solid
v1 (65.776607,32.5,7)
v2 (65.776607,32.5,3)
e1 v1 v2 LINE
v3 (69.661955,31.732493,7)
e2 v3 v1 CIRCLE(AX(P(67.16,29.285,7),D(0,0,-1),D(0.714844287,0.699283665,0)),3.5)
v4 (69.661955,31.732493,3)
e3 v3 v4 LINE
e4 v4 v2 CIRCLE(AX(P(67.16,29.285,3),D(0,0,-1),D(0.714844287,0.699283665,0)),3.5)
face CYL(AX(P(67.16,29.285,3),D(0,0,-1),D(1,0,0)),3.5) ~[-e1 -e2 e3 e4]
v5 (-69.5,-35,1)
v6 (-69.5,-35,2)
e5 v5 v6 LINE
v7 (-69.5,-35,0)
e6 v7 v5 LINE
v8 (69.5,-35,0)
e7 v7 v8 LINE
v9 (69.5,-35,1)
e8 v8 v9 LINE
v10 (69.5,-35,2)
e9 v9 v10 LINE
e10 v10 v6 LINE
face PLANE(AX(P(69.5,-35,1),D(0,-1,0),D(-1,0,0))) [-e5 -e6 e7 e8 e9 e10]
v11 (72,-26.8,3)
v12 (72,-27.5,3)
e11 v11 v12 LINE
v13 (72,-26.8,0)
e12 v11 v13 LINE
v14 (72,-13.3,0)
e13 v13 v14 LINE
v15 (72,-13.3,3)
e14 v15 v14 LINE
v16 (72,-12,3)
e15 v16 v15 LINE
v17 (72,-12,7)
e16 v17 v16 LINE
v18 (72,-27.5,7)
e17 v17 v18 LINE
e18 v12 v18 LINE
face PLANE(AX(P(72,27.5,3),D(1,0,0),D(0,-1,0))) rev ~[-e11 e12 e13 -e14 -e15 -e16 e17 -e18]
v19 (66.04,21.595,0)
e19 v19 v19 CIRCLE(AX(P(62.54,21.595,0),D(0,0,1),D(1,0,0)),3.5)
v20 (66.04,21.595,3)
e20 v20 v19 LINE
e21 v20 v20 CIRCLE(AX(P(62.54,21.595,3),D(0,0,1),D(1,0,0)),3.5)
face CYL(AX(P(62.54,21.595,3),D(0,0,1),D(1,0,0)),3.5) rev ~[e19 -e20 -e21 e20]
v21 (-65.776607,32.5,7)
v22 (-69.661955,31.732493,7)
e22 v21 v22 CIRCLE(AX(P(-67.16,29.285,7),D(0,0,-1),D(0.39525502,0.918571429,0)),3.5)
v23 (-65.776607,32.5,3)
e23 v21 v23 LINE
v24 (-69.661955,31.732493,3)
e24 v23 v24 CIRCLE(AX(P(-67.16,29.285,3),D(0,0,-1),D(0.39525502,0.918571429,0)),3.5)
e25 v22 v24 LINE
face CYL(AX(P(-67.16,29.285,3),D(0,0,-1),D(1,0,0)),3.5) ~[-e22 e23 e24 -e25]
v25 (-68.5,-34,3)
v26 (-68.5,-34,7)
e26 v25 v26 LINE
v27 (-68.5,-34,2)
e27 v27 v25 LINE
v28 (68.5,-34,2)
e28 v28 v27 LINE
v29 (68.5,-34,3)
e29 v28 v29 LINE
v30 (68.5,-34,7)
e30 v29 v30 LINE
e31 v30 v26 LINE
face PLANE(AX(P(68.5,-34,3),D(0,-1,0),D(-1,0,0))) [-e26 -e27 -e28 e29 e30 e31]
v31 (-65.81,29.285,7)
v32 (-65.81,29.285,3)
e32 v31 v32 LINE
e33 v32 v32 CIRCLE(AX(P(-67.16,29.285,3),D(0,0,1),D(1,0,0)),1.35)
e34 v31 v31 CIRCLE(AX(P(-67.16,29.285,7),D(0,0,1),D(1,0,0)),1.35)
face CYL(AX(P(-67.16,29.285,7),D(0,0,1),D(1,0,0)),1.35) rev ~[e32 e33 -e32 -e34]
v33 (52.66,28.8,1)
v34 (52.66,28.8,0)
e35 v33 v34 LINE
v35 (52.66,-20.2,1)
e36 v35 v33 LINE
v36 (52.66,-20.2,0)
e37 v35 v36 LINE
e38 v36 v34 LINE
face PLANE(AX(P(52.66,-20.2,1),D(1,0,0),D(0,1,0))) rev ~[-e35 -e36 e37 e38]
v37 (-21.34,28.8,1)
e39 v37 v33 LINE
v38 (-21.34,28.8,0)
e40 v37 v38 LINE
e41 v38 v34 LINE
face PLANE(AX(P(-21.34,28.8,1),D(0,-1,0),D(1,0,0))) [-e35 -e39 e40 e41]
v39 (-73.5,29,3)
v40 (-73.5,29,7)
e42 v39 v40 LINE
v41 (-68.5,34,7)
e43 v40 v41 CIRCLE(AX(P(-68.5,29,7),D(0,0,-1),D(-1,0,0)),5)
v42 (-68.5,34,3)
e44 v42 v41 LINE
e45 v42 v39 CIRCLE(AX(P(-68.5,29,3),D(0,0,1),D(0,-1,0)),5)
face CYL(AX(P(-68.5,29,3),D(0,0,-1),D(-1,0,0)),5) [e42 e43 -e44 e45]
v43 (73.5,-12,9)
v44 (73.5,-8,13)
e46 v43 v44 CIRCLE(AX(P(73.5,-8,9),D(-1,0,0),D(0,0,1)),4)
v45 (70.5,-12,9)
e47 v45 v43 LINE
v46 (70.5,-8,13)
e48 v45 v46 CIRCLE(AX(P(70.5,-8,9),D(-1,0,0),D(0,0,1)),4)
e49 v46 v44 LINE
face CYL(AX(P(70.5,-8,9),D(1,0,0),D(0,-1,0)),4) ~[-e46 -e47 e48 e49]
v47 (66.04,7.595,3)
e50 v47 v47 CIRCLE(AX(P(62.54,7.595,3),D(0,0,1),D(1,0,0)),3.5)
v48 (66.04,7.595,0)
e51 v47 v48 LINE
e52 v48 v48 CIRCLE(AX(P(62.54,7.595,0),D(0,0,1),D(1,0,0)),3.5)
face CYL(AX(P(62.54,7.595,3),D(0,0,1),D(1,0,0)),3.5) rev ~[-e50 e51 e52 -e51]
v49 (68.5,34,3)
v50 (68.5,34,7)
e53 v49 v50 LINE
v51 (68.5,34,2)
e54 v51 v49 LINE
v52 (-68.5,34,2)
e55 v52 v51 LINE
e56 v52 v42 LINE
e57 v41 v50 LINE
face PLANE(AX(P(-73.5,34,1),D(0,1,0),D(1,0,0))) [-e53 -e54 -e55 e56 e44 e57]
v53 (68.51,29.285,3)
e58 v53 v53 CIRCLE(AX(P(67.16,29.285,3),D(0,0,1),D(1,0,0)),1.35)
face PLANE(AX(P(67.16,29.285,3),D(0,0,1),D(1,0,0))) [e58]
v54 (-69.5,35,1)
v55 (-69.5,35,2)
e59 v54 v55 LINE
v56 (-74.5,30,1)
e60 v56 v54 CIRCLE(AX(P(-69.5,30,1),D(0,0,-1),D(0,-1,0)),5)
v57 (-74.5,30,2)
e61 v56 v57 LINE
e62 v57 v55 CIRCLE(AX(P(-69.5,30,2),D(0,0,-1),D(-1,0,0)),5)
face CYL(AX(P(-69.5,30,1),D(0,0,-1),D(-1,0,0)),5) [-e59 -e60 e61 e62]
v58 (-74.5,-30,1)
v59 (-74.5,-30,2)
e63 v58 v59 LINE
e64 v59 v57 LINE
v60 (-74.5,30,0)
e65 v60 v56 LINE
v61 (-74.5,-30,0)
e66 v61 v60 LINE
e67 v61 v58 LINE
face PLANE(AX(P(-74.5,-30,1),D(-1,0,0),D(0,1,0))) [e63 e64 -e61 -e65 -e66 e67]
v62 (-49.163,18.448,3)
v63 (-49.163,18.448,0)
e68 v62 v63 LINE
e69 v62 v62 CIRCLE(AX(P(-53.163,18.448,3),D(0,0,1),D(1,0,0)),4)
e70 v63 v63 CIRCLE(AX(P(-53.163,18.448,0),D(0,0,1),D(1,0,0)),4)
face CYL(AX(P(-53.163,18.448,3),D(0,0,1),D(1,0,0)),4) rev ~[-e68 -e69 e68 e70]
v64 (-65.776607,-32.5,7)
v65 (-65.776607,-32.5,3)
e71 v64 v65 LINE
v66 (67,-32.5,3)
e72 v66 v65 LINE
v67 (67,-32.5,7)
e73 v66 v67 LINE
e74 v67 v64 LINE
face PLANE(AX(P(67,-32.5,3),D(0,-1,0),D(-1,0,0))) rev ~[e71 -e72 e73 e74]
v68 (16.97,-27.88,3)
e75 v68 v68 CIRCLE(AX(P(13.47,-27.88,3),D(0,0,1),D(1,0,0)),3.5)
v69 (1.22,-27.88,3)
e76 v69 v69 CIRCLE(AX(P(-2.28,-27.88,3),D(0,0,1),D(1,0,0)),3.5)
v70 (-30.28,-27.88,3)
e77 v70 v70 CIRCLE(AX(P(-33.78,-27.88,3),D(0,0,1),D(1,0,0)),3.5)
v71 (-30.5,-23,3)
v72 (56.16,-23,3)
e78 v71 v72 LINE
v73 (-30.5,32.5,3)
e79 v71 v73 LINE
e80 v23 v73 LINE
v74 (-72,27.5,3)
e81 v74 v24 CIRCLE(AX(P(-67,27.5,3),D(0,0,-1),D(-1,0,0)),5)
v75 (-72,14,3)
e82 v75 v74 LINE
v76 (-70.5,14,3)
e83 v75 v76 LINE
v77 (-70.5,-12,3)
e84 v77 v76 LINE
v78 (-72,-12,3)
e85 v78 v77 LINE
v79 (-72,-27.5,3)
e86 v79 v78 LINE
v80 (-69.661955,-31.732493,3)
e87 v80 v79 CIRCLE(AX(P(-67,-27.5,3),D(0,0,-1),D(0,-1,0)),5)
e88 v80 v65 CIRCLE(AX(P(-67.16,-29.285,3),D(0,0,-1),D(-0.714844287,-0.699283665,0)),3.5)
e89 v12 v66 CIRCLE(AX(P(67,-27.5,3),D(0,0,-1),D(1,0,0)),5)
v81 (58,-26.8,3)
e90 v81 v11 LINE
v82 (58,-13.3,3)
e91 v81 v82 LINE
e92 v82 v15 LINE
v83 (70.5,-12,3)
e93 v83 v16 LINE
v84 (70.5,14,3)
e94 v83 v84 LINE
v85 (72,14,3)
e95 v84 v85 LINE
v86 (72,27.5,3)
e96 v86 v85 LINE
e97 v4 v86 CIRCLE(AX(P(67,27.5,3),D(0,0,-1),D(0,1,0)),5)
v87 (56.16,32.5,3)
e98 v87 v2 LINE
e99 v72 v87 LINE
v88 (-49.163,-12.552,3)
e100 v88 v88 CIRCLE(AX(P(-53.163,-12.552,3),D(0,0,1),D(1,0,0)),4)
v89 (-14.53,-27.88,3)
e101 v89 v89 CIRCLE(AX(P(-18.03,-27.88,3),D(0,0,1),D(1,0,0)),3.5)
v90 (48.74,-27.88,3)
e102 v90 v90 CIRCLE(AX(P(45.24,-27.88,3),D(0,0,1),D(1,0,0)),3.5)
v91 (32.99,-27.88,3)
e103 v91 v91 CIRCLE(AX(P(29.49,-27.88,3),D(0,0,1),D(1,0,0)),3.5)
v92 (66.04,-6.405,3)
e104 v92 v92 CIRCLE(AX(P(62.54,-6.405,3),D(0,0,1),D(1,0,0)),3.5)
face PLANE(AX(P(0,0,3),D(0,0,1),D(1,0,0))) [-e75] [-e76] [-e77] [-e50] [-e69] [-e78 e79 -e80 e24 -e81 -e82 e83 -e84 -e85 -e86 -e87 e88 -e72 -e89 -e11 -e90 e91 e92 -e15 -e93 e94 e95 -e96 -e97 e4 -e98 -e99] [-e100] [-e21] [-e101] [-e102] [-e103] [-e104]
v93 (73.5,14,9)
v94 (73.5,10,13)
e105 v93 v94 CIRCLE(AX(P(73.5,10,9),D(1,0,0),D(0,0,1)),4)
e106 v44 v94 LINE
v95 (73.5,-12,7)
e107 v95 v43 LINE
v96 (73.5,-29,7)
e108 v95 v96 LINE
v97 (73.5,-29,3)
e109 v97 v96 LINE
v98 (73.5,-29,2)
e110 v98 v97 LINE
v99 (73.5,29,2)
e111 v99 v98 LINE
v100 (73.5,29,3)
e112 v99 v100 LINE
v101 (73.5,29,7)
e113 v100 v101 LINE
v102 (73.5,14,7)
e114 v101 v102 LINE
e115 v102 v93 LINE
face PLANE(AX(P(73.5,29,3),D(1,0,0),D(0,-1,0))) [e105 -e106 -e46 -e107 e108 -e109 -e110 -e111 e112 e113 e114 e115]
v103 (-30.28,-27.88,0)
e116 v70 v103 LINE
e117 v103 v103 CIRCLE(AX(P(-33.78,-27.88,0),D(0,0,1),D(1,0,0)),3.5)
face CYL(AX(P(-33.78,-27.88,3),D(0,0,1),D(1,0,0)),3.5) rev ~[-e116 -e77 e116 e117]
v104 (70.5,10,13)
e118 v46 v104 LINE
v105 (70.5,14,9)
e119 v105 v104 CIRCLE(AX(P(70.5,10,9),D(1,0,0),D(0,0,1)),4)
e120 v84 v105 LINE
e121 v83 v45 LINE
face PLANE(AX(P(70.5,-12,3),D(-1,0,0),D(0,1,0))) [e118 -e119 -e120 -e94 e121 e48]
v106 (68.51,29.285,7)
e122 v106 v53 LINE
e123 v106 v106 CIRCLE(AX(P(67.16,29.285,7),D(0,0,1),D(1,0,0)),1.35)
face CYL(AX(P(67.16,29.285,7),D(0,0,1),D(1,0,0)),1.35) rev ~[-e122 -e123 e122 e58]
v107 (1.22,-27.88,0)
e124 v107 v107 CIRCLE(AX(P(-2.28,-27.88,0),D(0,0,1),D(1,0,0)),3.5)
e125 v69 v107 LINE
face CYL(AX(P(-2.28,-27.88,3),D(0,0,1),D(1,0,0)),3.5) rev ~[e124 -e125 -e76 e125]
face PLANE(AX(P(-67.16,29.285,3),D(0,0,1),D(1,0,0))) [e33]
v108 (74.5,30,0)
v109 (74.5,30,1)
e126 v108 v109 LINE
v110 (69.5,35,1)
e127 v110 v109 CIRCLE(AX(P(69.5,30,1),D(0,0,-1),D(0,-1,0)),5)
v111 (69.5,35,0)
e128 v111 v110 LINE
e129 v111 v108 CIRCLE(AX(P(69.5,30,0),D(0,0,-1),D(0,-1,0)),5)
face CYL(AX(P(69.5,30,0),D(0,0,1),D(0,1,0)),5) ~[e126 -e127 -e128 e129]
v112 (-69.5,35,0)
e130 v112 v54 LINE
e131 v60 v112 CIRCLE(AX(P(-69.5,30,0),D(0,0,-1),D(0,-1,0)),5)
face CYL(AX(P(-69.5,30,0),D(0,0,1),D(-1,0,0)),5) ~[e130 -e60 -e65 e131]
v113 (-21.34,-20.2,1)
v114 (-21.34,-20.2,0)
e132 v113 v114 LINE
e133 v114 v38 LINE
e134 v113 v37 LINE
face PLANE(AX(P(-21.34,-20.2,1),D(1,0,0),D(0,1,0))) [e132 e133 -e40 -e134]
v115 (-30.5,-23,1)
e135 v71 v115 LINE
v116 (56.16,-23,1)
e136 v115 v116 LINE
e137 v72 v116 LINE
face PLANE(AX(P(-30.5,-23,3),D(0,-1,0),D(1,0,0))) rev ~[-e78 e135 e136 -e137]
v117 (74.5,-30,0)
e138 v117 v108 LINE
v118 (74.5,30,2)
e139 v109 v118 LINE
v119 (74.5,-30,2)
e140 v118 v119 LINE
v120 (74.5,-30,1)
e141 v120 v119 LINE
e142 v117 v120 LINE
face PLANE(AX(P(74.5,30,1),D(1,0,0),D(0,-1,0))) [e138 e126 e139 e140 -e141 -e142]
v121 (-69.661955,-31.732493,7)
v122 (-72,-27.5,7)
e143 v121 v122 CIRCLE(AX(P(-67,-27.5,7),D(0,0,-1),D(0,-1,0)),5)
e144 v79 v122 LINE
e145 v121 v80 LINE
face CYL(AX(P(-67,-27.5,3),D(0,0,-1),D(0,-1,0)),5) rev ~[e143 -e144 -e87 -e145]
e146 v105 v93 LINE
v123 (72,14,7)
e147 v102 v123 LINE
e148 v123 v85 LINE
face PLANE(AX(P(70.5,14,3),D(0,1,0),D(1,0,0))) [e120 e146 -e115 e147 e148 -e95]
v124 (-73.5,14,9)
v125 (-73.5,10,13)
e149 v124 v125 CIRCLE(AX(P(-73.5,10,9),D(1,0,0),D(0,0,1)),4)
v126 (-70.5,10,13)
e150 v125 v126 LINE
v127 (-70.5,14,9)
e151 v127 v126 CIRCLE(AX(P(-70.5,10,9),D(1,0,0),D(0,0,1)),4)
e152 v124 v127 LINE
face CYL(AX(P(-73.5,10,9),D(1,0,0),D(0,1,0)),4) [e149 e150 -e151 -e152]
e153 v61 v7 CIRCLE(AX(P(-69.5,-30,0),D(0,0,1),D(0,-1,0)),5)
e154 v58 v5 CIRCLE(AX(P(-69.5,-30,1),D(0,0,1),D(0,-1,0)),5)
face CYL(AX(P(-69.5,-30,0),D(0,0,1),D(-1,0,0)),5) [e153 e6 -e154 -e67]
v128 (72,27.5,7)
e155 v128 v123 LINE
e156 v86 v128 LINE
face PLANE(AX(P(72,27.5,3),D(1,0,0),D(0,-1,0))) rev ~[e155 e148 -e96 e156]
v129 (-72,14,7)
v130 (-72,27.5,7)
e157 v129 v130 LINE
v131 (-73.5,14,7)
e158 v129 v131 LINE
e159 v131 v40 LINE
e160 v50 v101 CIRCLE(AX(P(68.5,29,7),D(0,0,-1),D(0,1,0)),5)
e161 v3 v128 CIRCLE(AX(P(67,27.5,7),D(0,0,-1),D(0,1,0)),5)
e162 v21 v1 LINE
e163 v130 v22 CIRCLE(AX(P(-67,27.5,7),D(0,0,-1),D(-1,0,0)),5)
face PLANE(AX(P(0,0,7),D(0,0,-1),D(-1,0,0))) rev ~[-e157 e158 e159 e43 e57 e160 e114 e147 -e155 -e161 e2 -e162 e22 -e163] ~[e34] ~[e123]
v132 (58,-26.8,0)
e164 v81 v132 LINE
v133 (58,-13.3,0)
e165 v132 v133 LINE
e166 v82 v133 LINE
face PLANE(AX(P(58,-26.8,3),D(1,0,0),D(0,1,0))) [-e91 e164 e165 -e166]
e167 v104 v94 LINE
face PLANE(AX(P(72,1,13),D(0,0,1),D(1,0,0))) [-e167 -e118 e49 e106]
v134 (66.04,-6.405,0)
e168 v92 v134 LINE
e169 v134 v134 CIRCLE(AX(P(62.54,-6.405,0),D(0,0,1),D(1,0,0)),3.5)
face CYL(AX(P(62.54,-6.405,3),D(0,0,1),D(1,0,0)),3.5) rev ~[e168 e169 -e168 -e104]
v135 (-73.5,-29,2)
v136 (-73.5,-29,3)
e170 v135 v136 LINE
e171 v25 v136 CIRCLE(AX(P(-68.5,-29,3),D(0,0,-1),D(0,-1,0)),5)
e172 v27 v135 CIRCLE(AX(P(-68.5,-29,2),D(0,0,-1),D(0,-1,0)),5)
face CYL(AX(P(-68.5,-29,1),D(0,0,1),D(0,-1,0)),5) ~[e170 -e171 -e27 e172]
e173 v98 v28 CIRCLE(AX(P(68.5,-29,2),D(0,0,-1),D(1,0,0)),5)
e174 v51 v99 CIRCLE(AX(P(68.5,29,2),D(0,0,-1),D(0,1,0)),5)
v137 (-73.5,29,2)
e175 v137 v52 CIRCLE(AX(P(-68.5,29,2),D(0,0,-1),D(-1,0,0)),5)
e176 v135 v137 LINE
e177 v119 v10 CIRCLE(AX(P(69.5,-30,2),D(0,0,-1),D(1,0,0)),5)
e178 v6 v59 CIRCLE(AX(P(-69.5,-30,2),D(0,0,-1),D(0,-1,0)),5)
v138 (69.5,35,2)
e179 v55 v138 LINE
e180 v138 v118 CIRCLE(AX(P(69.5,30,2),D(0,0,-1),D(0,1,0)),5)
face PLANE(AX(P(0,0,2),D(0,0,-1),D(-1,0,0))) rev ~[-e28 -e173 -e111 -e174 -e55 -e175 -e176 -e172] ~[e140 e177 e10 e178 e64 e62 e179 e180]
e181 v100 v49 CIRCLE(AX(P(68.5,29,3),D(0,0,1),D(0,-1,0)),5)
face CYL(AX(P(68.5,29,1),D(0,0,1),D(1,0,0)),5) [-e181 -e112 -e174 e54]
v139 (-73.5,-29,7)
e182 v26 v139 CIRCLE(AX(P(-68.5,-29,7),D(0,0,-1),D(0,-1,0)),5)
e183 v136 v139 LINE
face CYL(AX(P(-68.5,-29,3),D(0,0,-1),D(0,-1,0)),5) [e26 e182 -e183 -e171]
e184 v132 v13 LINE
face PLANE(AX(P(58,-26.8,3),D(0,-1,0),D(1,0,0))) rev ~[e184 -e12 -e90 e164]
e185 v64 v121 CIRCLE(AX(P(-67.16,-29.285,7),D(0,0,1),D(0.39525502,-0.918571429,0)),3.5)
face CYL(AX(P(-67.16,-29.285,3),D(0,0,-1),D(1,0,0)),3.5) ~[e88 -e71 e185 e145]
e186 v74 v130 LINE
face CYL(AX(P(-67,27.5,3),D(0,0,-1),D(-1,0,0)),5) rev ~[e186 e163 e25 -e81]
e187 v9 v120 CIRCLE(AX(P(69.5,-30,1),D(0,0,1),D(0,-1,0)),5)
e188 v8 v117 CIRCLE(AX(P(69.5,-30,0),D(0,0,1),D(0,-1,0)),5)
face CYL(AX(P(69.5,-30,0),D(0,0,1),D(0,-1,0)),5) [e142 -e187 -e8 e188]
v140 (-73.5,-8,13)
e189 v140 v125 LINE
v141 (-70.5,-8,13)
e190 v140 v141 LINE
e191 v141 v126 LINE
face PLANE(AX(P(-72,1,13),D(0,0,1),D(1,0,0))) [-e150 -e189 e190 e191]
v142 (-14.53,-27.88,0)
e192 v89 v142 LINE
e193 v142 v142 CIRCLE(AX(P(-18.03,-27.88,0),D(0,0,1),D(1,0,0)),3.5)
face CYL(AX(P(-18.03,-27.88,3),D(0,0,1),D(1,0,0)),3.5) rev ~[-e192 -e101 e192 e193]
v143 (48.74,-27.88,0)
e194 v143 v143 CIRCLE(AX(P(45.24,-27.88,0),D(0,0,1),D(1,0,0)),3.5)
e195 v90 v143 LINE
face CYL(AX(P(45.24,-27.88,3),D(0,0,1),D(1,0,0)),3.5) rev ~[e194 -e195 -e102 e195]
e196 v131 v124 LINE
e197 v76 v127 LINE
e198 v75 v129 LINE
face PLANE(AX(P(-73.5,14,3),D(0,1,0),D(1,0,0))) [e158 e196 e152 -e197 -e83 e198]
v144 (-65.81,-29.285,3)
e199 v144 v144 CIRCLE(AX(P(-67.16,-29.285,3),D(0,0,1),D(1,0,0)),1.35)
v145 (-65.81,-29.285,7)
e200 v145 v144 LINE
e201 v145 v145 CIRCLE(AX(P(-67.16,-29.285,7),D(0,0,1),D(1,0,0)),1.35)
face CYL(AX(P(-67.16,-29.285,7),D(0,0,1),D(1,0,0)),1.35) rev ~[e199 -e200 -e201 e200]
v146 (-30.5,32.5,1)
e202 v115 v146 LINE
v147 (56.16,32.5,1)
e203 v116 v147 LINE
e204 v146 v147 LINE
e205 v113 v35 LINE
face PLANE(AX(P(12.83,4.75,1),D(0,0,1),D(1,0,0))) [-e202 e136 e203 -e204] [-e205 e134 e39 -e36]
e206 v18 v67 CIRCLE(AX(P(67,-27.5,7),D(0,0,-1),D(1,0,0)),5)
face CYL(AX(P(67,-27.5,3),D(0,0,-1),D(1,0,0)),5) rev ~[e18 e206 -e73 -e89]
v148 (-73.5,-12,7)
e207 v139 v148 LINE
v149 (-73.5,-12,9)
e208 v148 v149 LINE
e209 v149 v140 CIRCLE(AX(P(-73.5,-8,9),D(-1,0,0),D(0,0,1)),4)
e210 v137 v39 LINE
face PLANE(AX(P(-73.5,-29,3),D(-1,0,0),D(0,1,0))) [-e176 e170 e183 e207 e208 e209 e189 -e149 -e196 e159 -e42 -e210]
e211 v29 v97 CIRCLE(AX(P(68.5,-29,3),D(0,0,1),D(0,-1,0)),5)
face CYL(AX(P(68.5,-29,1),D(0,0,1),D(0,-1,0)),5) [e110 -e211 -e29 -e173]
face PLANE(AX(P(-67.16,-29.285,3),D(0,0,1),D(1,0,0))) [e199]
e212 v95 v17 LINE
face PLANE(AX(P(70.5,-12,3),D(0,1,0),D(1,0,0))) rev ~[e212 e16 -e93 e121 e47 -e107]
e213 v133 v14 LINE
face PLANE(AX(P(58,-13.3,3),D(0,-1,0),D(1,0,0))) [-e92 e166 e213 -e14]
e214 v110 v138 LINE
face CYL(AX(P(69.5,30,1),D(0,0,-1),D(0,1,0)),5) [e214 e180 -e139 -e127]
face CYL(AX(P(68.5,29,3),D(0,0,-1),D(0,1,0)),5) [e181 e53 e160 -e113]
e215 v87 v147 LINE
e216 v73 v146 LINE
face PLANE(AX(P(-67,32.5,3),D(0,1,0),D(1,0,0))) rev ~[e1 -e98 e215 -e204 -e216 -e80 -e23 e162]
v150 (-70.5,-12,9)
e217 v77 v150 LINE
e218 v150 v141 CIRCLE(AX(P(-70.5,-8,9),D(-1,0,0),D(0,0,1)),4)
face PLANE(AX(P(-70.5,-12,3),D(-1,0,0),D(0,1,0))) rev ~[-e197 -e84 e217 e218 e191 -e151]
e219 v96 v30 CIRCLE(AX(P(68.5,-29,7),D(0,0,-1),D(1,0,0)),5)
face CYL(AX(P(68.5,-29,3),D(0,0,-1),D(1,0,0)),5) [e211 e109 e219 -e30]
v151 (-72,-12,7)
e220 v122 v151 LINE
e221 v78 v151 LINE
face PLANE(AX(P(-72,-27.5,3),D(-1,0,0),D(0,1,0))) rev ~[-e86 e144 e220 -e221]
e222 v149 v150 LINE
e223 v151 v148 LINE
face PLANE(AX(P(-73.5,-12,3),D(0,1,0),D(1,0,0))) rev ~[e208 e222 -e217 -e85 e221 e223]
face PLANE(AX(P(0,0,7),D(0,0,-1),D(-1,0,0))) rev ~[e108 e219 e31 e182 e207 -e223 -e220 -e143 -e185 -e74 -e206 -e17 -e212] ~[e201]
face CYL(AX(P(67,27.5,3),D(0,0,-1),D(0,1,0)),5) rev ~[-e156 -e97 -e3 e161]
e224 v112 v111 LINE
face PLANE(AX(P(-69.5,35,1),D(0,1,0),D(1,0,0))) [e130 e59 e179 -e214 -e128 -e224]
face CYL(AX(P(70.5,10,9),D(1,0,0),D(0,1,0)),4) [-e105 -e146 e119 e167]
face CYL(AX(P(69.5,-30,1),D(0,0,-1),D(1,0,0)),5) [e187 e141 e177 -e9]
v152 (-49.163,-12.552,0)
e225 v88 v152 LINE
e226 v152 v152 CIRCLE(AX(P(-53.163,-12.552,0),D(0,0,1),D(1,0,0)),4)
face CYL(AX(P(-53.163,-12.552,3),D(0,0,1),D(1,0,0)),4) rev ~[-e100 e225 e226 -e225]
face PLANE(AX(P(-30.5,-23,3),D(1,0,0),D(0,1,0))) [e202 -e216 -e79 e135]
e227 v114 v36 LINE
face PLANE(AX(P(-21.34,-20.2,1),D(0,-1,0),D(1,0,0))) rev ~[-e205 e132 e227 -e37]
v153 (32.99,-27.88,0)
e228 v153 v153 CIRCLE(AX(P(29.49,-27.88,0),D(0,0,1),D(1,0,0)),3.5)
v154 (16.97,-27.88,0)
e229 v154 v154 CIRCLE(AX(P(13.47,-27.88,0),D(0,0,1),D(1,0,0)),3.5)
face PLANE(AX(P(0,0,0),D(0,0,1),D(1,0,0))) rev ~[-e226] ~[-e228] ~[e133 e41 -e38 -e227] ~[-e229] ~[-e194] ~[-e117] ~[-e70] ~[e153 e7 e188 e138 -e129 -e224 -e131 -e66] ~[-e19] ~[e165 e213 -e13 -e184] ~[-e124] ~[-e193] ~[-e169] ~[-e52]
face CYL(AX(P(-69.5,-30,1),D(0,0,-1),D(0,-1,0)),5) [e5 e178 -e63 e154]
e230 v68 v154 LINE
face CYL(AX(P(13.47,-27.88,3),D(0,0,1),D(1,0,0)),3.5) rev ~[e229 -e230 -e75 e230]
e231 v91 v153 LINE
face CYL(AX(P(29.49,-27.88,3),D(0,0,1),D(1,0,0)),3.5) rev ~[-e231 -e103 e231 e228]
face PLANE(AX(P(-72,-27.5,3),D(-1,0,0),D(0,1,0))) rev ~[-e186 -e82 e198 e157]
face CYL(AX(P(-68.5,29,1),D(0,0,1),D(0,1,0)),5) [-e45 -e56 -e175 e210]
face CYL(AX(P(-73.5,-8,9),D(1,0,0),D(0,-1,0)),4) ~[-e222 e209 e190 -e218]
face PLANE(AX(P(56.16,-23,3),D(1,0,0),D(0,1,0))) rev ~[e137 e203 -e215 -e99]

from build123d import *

# Parameters (mm, degrees)
SKETCH_1_W           = 149
SKETCH_1_H           = 70
EXTRUDE_1_DEPTH      = 1
SKETCH_2_W           = 147
SKETCH_2_H           = 68
EXTRUDE_2_DEPTH      = 2
FILLET_1_R           = 5
SKETCH_3_W           = 3
SKETCH_3_H           = 26
EXTRUDE_3_DEPTH      = 10
FILLET_2_R           = 4
SKETCH_6_R           = 3.5
EXTRUDE_4_DEPTH      = 4
SKETCH_7_W           = 86.66
SKETCH_7_H           = 55.5
CUT_EXTRUDE_3_DEPTH  = 2
SKETCH_8_W           = 74
SKETCH_8_H           = 49
CUT_EXTRUDE_4_DEPTH  = 2
SKETCH_11_R          = 4
CUT_EXTRUDE_7_DEPTH  = 4
SKETCH_12_R          = 1.35
CUT_EXTRUDE_8_DEPTH  = 4
SKETCH_13_R          = 1.35
CUT_EXTRUDE_9_DEPTH  = 4
SKETCH_14_R          = 1.35
CUT_EXTRUDE_10_DEPTH = 4
SKETCH_15_W          = 14
SKETCH_15_H          = 13.5
CUT_EXTRUDE_11_DEPTH = 4
SKETCH_9_R           = 3.5
CUT_EXTRUDE_12_DEPTH = 4
SKETCH_16_R          = 3.5
CUT_EXTRUDE_13_DEPTH = 4
EXTRUDE_5_DEPTH      = 4
EXTRUDE_6_DEPTH      = 1


with BuildPart() as part:
    # Эскиз1 → Бобышка-Вытянуть1 (new body)
    with BuildSketch(Plane.XY):
        Rectangle(SKETCH_1_W, SKETCH_1_H)
    extrude(amount=EXTRUDE_1_DEPTH)

    # Эскиз2 → Бобышка-Вытянуть2 (add)
    with BuildSketch(Plane.XY.offset(1)):
        Rectangle(SKETCH_2_W, SKETCH_2_H)
    extrude(amount=EXTRUDE_2_DEPTH)

    # Скругление1
    fillet_1_edges = [part.edges().sort_by_distance(p)[0] for p in [
        (-73.5, 34, 2),
        (-73.5, -34, 2),
        (73.5, -34, 2),
        (73.5, 34, 2),
        (-74.5, 35, 0.5),
        (74.5, 35, 0.5),
        (74.5, -35, 0.5),
        (-74.5, -35, 0.5),
    ]]
    fillet(fillet_1_edges, radius=FILLET_1_R)

    # Эскиз3 → Бобышка-Вытянуть3 (add)
    with BuildSketch(Plane.XY.offset(3)):
        with Locations((-72, 1)):
            Rectangle(SKETCH_3_W, SKETCH_3_H)
        with Locations((72, 1)):
            Rectangle(SKETCH_3_W, SKETCH_3_H)
    extrude(amount=EXTRUDE_3_DEPTH)

    # Скругление2
    fillet_2_edges = [part.edges().sort_by_distance(p)[0] for p in [
        (-72, -12, 13),
        (-72, 14, 13),
        (72, 14, 13),
        (72, -12, 13),
    ]]
    fillet(fillet_2_edges, radius=FILLET_2_R)

    # Эскиз6 → Бобышка-Вытянуть4 (add)
    with BuildSketch(Plane.XY.offset(3)):
        with Locations((-67.16, 29.285)):
            Circle(SKETCH_6_R)
        with Locations((67.16, 29.285)):
            Circle(SKETCH_6_R)
        with Locations((-67.16, -29.285)):
            Circle(SKETCH_6_R)
    extrude(amount=EXTRUDE_4_DEPTH)

    # Эскиз7 → Вырез-Вытянуть3 (cut)
    with BuildSketch(Plane.XY.offset(3)):
        with Locations((12.83, 4.75)):
            Rectangle(SKETCH_7_W, SKETCH_7_H)
    extrude(amount=-CUT_EXTRUDE_3_DEPTH, mode=Mode.SUBTRACT)

    # Эскиз8 → Вырез-Вытянуть4 (cut, through all)
    with BuildSketch(Plane.XY.offset(1)):
        with Locations((15.66, 4.3)):
            Rectangle(SKETCH_8_W, SKETCH_8_H)
    extrude(amount=-CUT_EXTRUDE_4_DEPTH, mode=Mode.SUBTRACT)

    # Эскиз11 → Вырез-Вытянуть7 (cut, through all)
    with BuildSketch(Plane.XY.offset(3)):
        with Locations((-53.163, 18.448)):
            Circle(SKETCH_11_R)
        with Locations((-53.163, -12.552)):
            Circle(SKETCH_11_R)
    extrude(amount=-CUT_EXTRUDE_7_DEPTH, mode=Mode.SUBTRACT)

    # Эскиз12 → Вырез-Вытянуть8 (cut)
    with BuildSketch(Plane.XY.offset(7)):
        with Locations((-67.16, 29.285)):
            Circle(SKETCH_12_R)
    extrude(amount=-CUT_EXTRUDE_8_DEPTH, mode=Mode.SUBTRACT)

    # Эскиз13 → Вырез-Вытянуть9 (cut)
    with BuildSketch(Plane.XY.offset(7)):
        with Locations((67.16, 29.285)):
            Circle(SKETCH_13_R)
    extrude(amount=-CUT_EXTRUDE_9_DEPTH, mode=Mode.SUBTRACT)

    # Эскиз14 → Вырез-Вытянуть10 (cut)
    with BuildSketch(Plane.XY.offset(7)):
        with Locations((-67.16, -29.285)):
            Circle(SKETCH_14_R)
    extrude(amount=-CUT_EXTRUDE_10_DEPTH, mode=Mode.SUBTRACT)

    # Эскиз15 → Вырез-Вытянуть11 (cut, through all)
    with BuildSketch(Plane.XY.offset(3)):
        with Locations((65, -20.05)):
            Rectangle(SKETCH_15_W, SKETCH_15_H)
    extrude(amount=-CUT_EXTRUDE_11_DEPTH, mode=Mode.SUBTRACT)

    # Эскиз9 → Вырез-Вытянуть12 (cut, through all)
    with BuildSketch(Plane.XY.offset(3)):
        with Locations((62.54, -6.405)):
            Circle(SKETCH_9_R)
        with Locations((62.54, 21.595)):
            Circle(SKETCH_9_R)
        with Locations((62.54, 7.595)):
            Circle(SKETCH_9_R)
    extrude(amount=-CUT_EXTRUDE_12_DEPTH, mode=Mode.SUBTRACT)

    # Эскиз16 → Вырез-Вытянуть13 (cut, through all)
    with BuildSketch(Plane.XY.offset(3)):
        with Locations((45.24, -27.88)):
            Circle(SKETCH_16_R)
        with Locations((29.49, -27.88)):
            Circle(SKETCH_16_R)
        with Locations((13.47, -27.88)):
            Circle(SKETCH_16_R)
        with Locations((-2.28, -27.88)):
            Circle(SKETCH_16_R)
        with Locations((-18.03, -27.88)):
            Circle(SKETCH_16_R)
        with Locations((-33.78, -27.88)):
            Circle(SKETCH_16_R)
    extrude(amount=-CUT_EXTRUDE_13_DEPTH, mode=Mode.SUBTRACT)

    # Эскиз17 → Бобышка-Вытянуть5 (add)
    with BuildSketch(Plane.XY.offset(3)):
        with BuildLine():
            Line((68.5, -34), (-68.5, -34))
            ThreePointArc((-68.5, -34), (-72.035533906, -32.535533906), (-73.5, -29))
            Line((-73.5, -29), (-73.5, 29))
            ThreePointArc((-73.5, 29), (-72.035533906, 32.535533906), (-68.5, 34))
            Line((-68.5, 34), (68.5, 34))
            ThreePointArc((68.5, 34), (72.035533906, 32.535533906), (73.5, 29))
            Line((73.5, 29), (73.5, -29))
            ThreePointArc((73.5, -29), (72.035533906, -32.535533906), (68.5, -34))
        make_face()
        with BuildLine():
            Line((67, -32.5), (-67, -32.5))
            ThreePointArc((-67, -32.5), (-70.535533906, -31.035533906), (-72, -27.5))
            Line((-72, -27.5), (-72, 27.5))
            ThreePointArc((-72, 27.5), (-70.535533906, 31.035533906), (-67, 32.5))
            Line((-67, 32.5), (67, 32.5))
            ThreePointArc((67, 32.5), (70.535533906, 31.035533906), (72, 27.5))
            Line((72, 27.5), (72, -27.5))
            ThreePointArc((72, -27.5), (70.535533906, -31.035533906), (67, -32.5))
        make_face(mode=Mode.SUBTRACT)
    extrude(amount=EXTRUDE_5_DEPTH)

    # Эскиз18 → Бобышка-Вытянуть6 (add)
    with BuildSketch(Plane.XY.offset(1)):
        with BuildLine():
            Line((69.5, -35), (-69.5, -35))
            ThreePointArc((-69.5, -35), (-73.035533906, -33.535533906), (-74.5, -30))
            Line((-74.5, -30), (-74.5, 30))
            ThreePointArc((-74.5, 30), (-73.035533906, 33.535533906), (-69.5, 35))
            Line((-69.5, 35), (69.5, 35))
            ThreePointArc((69.5, 35), (73.035533906, 33.535533906), (74.5, 30))
            Line((74.5, 30), (74.5, -30))
            ThreePointArc((74.5, -30), (73.035533906, -33.535533906), (69.5, -35))
        make_face()
        with BuildLine():
            Line((68.5, -34), (-68.5, -34))
            ThreePointArc((-68.5, -34), (-72.035533906, -32.535533906), (-73.5, -29))
            Line((-73.5, -29), (-73.5, 29))
            ThreePointArc((-73.5, 29), (-72.035533906, 32.535533906), (-68.5, 34))
            Line((-68.5, 34), (68.5, 34))
            ThreePointArc((68.5, 34), (72.035533906, 32.535533906), (73.5, 29))
            Line((73.5, 29), (73.5, -29))
            ThreePointArc((73.5, -29), (72.035533906, -32.535533906), (68.5, -34))
        make_face(mode=Mode.SUBTRACT)
    extrude(amount=EXTRUDE_6_DEPTH)


solid = part.part
